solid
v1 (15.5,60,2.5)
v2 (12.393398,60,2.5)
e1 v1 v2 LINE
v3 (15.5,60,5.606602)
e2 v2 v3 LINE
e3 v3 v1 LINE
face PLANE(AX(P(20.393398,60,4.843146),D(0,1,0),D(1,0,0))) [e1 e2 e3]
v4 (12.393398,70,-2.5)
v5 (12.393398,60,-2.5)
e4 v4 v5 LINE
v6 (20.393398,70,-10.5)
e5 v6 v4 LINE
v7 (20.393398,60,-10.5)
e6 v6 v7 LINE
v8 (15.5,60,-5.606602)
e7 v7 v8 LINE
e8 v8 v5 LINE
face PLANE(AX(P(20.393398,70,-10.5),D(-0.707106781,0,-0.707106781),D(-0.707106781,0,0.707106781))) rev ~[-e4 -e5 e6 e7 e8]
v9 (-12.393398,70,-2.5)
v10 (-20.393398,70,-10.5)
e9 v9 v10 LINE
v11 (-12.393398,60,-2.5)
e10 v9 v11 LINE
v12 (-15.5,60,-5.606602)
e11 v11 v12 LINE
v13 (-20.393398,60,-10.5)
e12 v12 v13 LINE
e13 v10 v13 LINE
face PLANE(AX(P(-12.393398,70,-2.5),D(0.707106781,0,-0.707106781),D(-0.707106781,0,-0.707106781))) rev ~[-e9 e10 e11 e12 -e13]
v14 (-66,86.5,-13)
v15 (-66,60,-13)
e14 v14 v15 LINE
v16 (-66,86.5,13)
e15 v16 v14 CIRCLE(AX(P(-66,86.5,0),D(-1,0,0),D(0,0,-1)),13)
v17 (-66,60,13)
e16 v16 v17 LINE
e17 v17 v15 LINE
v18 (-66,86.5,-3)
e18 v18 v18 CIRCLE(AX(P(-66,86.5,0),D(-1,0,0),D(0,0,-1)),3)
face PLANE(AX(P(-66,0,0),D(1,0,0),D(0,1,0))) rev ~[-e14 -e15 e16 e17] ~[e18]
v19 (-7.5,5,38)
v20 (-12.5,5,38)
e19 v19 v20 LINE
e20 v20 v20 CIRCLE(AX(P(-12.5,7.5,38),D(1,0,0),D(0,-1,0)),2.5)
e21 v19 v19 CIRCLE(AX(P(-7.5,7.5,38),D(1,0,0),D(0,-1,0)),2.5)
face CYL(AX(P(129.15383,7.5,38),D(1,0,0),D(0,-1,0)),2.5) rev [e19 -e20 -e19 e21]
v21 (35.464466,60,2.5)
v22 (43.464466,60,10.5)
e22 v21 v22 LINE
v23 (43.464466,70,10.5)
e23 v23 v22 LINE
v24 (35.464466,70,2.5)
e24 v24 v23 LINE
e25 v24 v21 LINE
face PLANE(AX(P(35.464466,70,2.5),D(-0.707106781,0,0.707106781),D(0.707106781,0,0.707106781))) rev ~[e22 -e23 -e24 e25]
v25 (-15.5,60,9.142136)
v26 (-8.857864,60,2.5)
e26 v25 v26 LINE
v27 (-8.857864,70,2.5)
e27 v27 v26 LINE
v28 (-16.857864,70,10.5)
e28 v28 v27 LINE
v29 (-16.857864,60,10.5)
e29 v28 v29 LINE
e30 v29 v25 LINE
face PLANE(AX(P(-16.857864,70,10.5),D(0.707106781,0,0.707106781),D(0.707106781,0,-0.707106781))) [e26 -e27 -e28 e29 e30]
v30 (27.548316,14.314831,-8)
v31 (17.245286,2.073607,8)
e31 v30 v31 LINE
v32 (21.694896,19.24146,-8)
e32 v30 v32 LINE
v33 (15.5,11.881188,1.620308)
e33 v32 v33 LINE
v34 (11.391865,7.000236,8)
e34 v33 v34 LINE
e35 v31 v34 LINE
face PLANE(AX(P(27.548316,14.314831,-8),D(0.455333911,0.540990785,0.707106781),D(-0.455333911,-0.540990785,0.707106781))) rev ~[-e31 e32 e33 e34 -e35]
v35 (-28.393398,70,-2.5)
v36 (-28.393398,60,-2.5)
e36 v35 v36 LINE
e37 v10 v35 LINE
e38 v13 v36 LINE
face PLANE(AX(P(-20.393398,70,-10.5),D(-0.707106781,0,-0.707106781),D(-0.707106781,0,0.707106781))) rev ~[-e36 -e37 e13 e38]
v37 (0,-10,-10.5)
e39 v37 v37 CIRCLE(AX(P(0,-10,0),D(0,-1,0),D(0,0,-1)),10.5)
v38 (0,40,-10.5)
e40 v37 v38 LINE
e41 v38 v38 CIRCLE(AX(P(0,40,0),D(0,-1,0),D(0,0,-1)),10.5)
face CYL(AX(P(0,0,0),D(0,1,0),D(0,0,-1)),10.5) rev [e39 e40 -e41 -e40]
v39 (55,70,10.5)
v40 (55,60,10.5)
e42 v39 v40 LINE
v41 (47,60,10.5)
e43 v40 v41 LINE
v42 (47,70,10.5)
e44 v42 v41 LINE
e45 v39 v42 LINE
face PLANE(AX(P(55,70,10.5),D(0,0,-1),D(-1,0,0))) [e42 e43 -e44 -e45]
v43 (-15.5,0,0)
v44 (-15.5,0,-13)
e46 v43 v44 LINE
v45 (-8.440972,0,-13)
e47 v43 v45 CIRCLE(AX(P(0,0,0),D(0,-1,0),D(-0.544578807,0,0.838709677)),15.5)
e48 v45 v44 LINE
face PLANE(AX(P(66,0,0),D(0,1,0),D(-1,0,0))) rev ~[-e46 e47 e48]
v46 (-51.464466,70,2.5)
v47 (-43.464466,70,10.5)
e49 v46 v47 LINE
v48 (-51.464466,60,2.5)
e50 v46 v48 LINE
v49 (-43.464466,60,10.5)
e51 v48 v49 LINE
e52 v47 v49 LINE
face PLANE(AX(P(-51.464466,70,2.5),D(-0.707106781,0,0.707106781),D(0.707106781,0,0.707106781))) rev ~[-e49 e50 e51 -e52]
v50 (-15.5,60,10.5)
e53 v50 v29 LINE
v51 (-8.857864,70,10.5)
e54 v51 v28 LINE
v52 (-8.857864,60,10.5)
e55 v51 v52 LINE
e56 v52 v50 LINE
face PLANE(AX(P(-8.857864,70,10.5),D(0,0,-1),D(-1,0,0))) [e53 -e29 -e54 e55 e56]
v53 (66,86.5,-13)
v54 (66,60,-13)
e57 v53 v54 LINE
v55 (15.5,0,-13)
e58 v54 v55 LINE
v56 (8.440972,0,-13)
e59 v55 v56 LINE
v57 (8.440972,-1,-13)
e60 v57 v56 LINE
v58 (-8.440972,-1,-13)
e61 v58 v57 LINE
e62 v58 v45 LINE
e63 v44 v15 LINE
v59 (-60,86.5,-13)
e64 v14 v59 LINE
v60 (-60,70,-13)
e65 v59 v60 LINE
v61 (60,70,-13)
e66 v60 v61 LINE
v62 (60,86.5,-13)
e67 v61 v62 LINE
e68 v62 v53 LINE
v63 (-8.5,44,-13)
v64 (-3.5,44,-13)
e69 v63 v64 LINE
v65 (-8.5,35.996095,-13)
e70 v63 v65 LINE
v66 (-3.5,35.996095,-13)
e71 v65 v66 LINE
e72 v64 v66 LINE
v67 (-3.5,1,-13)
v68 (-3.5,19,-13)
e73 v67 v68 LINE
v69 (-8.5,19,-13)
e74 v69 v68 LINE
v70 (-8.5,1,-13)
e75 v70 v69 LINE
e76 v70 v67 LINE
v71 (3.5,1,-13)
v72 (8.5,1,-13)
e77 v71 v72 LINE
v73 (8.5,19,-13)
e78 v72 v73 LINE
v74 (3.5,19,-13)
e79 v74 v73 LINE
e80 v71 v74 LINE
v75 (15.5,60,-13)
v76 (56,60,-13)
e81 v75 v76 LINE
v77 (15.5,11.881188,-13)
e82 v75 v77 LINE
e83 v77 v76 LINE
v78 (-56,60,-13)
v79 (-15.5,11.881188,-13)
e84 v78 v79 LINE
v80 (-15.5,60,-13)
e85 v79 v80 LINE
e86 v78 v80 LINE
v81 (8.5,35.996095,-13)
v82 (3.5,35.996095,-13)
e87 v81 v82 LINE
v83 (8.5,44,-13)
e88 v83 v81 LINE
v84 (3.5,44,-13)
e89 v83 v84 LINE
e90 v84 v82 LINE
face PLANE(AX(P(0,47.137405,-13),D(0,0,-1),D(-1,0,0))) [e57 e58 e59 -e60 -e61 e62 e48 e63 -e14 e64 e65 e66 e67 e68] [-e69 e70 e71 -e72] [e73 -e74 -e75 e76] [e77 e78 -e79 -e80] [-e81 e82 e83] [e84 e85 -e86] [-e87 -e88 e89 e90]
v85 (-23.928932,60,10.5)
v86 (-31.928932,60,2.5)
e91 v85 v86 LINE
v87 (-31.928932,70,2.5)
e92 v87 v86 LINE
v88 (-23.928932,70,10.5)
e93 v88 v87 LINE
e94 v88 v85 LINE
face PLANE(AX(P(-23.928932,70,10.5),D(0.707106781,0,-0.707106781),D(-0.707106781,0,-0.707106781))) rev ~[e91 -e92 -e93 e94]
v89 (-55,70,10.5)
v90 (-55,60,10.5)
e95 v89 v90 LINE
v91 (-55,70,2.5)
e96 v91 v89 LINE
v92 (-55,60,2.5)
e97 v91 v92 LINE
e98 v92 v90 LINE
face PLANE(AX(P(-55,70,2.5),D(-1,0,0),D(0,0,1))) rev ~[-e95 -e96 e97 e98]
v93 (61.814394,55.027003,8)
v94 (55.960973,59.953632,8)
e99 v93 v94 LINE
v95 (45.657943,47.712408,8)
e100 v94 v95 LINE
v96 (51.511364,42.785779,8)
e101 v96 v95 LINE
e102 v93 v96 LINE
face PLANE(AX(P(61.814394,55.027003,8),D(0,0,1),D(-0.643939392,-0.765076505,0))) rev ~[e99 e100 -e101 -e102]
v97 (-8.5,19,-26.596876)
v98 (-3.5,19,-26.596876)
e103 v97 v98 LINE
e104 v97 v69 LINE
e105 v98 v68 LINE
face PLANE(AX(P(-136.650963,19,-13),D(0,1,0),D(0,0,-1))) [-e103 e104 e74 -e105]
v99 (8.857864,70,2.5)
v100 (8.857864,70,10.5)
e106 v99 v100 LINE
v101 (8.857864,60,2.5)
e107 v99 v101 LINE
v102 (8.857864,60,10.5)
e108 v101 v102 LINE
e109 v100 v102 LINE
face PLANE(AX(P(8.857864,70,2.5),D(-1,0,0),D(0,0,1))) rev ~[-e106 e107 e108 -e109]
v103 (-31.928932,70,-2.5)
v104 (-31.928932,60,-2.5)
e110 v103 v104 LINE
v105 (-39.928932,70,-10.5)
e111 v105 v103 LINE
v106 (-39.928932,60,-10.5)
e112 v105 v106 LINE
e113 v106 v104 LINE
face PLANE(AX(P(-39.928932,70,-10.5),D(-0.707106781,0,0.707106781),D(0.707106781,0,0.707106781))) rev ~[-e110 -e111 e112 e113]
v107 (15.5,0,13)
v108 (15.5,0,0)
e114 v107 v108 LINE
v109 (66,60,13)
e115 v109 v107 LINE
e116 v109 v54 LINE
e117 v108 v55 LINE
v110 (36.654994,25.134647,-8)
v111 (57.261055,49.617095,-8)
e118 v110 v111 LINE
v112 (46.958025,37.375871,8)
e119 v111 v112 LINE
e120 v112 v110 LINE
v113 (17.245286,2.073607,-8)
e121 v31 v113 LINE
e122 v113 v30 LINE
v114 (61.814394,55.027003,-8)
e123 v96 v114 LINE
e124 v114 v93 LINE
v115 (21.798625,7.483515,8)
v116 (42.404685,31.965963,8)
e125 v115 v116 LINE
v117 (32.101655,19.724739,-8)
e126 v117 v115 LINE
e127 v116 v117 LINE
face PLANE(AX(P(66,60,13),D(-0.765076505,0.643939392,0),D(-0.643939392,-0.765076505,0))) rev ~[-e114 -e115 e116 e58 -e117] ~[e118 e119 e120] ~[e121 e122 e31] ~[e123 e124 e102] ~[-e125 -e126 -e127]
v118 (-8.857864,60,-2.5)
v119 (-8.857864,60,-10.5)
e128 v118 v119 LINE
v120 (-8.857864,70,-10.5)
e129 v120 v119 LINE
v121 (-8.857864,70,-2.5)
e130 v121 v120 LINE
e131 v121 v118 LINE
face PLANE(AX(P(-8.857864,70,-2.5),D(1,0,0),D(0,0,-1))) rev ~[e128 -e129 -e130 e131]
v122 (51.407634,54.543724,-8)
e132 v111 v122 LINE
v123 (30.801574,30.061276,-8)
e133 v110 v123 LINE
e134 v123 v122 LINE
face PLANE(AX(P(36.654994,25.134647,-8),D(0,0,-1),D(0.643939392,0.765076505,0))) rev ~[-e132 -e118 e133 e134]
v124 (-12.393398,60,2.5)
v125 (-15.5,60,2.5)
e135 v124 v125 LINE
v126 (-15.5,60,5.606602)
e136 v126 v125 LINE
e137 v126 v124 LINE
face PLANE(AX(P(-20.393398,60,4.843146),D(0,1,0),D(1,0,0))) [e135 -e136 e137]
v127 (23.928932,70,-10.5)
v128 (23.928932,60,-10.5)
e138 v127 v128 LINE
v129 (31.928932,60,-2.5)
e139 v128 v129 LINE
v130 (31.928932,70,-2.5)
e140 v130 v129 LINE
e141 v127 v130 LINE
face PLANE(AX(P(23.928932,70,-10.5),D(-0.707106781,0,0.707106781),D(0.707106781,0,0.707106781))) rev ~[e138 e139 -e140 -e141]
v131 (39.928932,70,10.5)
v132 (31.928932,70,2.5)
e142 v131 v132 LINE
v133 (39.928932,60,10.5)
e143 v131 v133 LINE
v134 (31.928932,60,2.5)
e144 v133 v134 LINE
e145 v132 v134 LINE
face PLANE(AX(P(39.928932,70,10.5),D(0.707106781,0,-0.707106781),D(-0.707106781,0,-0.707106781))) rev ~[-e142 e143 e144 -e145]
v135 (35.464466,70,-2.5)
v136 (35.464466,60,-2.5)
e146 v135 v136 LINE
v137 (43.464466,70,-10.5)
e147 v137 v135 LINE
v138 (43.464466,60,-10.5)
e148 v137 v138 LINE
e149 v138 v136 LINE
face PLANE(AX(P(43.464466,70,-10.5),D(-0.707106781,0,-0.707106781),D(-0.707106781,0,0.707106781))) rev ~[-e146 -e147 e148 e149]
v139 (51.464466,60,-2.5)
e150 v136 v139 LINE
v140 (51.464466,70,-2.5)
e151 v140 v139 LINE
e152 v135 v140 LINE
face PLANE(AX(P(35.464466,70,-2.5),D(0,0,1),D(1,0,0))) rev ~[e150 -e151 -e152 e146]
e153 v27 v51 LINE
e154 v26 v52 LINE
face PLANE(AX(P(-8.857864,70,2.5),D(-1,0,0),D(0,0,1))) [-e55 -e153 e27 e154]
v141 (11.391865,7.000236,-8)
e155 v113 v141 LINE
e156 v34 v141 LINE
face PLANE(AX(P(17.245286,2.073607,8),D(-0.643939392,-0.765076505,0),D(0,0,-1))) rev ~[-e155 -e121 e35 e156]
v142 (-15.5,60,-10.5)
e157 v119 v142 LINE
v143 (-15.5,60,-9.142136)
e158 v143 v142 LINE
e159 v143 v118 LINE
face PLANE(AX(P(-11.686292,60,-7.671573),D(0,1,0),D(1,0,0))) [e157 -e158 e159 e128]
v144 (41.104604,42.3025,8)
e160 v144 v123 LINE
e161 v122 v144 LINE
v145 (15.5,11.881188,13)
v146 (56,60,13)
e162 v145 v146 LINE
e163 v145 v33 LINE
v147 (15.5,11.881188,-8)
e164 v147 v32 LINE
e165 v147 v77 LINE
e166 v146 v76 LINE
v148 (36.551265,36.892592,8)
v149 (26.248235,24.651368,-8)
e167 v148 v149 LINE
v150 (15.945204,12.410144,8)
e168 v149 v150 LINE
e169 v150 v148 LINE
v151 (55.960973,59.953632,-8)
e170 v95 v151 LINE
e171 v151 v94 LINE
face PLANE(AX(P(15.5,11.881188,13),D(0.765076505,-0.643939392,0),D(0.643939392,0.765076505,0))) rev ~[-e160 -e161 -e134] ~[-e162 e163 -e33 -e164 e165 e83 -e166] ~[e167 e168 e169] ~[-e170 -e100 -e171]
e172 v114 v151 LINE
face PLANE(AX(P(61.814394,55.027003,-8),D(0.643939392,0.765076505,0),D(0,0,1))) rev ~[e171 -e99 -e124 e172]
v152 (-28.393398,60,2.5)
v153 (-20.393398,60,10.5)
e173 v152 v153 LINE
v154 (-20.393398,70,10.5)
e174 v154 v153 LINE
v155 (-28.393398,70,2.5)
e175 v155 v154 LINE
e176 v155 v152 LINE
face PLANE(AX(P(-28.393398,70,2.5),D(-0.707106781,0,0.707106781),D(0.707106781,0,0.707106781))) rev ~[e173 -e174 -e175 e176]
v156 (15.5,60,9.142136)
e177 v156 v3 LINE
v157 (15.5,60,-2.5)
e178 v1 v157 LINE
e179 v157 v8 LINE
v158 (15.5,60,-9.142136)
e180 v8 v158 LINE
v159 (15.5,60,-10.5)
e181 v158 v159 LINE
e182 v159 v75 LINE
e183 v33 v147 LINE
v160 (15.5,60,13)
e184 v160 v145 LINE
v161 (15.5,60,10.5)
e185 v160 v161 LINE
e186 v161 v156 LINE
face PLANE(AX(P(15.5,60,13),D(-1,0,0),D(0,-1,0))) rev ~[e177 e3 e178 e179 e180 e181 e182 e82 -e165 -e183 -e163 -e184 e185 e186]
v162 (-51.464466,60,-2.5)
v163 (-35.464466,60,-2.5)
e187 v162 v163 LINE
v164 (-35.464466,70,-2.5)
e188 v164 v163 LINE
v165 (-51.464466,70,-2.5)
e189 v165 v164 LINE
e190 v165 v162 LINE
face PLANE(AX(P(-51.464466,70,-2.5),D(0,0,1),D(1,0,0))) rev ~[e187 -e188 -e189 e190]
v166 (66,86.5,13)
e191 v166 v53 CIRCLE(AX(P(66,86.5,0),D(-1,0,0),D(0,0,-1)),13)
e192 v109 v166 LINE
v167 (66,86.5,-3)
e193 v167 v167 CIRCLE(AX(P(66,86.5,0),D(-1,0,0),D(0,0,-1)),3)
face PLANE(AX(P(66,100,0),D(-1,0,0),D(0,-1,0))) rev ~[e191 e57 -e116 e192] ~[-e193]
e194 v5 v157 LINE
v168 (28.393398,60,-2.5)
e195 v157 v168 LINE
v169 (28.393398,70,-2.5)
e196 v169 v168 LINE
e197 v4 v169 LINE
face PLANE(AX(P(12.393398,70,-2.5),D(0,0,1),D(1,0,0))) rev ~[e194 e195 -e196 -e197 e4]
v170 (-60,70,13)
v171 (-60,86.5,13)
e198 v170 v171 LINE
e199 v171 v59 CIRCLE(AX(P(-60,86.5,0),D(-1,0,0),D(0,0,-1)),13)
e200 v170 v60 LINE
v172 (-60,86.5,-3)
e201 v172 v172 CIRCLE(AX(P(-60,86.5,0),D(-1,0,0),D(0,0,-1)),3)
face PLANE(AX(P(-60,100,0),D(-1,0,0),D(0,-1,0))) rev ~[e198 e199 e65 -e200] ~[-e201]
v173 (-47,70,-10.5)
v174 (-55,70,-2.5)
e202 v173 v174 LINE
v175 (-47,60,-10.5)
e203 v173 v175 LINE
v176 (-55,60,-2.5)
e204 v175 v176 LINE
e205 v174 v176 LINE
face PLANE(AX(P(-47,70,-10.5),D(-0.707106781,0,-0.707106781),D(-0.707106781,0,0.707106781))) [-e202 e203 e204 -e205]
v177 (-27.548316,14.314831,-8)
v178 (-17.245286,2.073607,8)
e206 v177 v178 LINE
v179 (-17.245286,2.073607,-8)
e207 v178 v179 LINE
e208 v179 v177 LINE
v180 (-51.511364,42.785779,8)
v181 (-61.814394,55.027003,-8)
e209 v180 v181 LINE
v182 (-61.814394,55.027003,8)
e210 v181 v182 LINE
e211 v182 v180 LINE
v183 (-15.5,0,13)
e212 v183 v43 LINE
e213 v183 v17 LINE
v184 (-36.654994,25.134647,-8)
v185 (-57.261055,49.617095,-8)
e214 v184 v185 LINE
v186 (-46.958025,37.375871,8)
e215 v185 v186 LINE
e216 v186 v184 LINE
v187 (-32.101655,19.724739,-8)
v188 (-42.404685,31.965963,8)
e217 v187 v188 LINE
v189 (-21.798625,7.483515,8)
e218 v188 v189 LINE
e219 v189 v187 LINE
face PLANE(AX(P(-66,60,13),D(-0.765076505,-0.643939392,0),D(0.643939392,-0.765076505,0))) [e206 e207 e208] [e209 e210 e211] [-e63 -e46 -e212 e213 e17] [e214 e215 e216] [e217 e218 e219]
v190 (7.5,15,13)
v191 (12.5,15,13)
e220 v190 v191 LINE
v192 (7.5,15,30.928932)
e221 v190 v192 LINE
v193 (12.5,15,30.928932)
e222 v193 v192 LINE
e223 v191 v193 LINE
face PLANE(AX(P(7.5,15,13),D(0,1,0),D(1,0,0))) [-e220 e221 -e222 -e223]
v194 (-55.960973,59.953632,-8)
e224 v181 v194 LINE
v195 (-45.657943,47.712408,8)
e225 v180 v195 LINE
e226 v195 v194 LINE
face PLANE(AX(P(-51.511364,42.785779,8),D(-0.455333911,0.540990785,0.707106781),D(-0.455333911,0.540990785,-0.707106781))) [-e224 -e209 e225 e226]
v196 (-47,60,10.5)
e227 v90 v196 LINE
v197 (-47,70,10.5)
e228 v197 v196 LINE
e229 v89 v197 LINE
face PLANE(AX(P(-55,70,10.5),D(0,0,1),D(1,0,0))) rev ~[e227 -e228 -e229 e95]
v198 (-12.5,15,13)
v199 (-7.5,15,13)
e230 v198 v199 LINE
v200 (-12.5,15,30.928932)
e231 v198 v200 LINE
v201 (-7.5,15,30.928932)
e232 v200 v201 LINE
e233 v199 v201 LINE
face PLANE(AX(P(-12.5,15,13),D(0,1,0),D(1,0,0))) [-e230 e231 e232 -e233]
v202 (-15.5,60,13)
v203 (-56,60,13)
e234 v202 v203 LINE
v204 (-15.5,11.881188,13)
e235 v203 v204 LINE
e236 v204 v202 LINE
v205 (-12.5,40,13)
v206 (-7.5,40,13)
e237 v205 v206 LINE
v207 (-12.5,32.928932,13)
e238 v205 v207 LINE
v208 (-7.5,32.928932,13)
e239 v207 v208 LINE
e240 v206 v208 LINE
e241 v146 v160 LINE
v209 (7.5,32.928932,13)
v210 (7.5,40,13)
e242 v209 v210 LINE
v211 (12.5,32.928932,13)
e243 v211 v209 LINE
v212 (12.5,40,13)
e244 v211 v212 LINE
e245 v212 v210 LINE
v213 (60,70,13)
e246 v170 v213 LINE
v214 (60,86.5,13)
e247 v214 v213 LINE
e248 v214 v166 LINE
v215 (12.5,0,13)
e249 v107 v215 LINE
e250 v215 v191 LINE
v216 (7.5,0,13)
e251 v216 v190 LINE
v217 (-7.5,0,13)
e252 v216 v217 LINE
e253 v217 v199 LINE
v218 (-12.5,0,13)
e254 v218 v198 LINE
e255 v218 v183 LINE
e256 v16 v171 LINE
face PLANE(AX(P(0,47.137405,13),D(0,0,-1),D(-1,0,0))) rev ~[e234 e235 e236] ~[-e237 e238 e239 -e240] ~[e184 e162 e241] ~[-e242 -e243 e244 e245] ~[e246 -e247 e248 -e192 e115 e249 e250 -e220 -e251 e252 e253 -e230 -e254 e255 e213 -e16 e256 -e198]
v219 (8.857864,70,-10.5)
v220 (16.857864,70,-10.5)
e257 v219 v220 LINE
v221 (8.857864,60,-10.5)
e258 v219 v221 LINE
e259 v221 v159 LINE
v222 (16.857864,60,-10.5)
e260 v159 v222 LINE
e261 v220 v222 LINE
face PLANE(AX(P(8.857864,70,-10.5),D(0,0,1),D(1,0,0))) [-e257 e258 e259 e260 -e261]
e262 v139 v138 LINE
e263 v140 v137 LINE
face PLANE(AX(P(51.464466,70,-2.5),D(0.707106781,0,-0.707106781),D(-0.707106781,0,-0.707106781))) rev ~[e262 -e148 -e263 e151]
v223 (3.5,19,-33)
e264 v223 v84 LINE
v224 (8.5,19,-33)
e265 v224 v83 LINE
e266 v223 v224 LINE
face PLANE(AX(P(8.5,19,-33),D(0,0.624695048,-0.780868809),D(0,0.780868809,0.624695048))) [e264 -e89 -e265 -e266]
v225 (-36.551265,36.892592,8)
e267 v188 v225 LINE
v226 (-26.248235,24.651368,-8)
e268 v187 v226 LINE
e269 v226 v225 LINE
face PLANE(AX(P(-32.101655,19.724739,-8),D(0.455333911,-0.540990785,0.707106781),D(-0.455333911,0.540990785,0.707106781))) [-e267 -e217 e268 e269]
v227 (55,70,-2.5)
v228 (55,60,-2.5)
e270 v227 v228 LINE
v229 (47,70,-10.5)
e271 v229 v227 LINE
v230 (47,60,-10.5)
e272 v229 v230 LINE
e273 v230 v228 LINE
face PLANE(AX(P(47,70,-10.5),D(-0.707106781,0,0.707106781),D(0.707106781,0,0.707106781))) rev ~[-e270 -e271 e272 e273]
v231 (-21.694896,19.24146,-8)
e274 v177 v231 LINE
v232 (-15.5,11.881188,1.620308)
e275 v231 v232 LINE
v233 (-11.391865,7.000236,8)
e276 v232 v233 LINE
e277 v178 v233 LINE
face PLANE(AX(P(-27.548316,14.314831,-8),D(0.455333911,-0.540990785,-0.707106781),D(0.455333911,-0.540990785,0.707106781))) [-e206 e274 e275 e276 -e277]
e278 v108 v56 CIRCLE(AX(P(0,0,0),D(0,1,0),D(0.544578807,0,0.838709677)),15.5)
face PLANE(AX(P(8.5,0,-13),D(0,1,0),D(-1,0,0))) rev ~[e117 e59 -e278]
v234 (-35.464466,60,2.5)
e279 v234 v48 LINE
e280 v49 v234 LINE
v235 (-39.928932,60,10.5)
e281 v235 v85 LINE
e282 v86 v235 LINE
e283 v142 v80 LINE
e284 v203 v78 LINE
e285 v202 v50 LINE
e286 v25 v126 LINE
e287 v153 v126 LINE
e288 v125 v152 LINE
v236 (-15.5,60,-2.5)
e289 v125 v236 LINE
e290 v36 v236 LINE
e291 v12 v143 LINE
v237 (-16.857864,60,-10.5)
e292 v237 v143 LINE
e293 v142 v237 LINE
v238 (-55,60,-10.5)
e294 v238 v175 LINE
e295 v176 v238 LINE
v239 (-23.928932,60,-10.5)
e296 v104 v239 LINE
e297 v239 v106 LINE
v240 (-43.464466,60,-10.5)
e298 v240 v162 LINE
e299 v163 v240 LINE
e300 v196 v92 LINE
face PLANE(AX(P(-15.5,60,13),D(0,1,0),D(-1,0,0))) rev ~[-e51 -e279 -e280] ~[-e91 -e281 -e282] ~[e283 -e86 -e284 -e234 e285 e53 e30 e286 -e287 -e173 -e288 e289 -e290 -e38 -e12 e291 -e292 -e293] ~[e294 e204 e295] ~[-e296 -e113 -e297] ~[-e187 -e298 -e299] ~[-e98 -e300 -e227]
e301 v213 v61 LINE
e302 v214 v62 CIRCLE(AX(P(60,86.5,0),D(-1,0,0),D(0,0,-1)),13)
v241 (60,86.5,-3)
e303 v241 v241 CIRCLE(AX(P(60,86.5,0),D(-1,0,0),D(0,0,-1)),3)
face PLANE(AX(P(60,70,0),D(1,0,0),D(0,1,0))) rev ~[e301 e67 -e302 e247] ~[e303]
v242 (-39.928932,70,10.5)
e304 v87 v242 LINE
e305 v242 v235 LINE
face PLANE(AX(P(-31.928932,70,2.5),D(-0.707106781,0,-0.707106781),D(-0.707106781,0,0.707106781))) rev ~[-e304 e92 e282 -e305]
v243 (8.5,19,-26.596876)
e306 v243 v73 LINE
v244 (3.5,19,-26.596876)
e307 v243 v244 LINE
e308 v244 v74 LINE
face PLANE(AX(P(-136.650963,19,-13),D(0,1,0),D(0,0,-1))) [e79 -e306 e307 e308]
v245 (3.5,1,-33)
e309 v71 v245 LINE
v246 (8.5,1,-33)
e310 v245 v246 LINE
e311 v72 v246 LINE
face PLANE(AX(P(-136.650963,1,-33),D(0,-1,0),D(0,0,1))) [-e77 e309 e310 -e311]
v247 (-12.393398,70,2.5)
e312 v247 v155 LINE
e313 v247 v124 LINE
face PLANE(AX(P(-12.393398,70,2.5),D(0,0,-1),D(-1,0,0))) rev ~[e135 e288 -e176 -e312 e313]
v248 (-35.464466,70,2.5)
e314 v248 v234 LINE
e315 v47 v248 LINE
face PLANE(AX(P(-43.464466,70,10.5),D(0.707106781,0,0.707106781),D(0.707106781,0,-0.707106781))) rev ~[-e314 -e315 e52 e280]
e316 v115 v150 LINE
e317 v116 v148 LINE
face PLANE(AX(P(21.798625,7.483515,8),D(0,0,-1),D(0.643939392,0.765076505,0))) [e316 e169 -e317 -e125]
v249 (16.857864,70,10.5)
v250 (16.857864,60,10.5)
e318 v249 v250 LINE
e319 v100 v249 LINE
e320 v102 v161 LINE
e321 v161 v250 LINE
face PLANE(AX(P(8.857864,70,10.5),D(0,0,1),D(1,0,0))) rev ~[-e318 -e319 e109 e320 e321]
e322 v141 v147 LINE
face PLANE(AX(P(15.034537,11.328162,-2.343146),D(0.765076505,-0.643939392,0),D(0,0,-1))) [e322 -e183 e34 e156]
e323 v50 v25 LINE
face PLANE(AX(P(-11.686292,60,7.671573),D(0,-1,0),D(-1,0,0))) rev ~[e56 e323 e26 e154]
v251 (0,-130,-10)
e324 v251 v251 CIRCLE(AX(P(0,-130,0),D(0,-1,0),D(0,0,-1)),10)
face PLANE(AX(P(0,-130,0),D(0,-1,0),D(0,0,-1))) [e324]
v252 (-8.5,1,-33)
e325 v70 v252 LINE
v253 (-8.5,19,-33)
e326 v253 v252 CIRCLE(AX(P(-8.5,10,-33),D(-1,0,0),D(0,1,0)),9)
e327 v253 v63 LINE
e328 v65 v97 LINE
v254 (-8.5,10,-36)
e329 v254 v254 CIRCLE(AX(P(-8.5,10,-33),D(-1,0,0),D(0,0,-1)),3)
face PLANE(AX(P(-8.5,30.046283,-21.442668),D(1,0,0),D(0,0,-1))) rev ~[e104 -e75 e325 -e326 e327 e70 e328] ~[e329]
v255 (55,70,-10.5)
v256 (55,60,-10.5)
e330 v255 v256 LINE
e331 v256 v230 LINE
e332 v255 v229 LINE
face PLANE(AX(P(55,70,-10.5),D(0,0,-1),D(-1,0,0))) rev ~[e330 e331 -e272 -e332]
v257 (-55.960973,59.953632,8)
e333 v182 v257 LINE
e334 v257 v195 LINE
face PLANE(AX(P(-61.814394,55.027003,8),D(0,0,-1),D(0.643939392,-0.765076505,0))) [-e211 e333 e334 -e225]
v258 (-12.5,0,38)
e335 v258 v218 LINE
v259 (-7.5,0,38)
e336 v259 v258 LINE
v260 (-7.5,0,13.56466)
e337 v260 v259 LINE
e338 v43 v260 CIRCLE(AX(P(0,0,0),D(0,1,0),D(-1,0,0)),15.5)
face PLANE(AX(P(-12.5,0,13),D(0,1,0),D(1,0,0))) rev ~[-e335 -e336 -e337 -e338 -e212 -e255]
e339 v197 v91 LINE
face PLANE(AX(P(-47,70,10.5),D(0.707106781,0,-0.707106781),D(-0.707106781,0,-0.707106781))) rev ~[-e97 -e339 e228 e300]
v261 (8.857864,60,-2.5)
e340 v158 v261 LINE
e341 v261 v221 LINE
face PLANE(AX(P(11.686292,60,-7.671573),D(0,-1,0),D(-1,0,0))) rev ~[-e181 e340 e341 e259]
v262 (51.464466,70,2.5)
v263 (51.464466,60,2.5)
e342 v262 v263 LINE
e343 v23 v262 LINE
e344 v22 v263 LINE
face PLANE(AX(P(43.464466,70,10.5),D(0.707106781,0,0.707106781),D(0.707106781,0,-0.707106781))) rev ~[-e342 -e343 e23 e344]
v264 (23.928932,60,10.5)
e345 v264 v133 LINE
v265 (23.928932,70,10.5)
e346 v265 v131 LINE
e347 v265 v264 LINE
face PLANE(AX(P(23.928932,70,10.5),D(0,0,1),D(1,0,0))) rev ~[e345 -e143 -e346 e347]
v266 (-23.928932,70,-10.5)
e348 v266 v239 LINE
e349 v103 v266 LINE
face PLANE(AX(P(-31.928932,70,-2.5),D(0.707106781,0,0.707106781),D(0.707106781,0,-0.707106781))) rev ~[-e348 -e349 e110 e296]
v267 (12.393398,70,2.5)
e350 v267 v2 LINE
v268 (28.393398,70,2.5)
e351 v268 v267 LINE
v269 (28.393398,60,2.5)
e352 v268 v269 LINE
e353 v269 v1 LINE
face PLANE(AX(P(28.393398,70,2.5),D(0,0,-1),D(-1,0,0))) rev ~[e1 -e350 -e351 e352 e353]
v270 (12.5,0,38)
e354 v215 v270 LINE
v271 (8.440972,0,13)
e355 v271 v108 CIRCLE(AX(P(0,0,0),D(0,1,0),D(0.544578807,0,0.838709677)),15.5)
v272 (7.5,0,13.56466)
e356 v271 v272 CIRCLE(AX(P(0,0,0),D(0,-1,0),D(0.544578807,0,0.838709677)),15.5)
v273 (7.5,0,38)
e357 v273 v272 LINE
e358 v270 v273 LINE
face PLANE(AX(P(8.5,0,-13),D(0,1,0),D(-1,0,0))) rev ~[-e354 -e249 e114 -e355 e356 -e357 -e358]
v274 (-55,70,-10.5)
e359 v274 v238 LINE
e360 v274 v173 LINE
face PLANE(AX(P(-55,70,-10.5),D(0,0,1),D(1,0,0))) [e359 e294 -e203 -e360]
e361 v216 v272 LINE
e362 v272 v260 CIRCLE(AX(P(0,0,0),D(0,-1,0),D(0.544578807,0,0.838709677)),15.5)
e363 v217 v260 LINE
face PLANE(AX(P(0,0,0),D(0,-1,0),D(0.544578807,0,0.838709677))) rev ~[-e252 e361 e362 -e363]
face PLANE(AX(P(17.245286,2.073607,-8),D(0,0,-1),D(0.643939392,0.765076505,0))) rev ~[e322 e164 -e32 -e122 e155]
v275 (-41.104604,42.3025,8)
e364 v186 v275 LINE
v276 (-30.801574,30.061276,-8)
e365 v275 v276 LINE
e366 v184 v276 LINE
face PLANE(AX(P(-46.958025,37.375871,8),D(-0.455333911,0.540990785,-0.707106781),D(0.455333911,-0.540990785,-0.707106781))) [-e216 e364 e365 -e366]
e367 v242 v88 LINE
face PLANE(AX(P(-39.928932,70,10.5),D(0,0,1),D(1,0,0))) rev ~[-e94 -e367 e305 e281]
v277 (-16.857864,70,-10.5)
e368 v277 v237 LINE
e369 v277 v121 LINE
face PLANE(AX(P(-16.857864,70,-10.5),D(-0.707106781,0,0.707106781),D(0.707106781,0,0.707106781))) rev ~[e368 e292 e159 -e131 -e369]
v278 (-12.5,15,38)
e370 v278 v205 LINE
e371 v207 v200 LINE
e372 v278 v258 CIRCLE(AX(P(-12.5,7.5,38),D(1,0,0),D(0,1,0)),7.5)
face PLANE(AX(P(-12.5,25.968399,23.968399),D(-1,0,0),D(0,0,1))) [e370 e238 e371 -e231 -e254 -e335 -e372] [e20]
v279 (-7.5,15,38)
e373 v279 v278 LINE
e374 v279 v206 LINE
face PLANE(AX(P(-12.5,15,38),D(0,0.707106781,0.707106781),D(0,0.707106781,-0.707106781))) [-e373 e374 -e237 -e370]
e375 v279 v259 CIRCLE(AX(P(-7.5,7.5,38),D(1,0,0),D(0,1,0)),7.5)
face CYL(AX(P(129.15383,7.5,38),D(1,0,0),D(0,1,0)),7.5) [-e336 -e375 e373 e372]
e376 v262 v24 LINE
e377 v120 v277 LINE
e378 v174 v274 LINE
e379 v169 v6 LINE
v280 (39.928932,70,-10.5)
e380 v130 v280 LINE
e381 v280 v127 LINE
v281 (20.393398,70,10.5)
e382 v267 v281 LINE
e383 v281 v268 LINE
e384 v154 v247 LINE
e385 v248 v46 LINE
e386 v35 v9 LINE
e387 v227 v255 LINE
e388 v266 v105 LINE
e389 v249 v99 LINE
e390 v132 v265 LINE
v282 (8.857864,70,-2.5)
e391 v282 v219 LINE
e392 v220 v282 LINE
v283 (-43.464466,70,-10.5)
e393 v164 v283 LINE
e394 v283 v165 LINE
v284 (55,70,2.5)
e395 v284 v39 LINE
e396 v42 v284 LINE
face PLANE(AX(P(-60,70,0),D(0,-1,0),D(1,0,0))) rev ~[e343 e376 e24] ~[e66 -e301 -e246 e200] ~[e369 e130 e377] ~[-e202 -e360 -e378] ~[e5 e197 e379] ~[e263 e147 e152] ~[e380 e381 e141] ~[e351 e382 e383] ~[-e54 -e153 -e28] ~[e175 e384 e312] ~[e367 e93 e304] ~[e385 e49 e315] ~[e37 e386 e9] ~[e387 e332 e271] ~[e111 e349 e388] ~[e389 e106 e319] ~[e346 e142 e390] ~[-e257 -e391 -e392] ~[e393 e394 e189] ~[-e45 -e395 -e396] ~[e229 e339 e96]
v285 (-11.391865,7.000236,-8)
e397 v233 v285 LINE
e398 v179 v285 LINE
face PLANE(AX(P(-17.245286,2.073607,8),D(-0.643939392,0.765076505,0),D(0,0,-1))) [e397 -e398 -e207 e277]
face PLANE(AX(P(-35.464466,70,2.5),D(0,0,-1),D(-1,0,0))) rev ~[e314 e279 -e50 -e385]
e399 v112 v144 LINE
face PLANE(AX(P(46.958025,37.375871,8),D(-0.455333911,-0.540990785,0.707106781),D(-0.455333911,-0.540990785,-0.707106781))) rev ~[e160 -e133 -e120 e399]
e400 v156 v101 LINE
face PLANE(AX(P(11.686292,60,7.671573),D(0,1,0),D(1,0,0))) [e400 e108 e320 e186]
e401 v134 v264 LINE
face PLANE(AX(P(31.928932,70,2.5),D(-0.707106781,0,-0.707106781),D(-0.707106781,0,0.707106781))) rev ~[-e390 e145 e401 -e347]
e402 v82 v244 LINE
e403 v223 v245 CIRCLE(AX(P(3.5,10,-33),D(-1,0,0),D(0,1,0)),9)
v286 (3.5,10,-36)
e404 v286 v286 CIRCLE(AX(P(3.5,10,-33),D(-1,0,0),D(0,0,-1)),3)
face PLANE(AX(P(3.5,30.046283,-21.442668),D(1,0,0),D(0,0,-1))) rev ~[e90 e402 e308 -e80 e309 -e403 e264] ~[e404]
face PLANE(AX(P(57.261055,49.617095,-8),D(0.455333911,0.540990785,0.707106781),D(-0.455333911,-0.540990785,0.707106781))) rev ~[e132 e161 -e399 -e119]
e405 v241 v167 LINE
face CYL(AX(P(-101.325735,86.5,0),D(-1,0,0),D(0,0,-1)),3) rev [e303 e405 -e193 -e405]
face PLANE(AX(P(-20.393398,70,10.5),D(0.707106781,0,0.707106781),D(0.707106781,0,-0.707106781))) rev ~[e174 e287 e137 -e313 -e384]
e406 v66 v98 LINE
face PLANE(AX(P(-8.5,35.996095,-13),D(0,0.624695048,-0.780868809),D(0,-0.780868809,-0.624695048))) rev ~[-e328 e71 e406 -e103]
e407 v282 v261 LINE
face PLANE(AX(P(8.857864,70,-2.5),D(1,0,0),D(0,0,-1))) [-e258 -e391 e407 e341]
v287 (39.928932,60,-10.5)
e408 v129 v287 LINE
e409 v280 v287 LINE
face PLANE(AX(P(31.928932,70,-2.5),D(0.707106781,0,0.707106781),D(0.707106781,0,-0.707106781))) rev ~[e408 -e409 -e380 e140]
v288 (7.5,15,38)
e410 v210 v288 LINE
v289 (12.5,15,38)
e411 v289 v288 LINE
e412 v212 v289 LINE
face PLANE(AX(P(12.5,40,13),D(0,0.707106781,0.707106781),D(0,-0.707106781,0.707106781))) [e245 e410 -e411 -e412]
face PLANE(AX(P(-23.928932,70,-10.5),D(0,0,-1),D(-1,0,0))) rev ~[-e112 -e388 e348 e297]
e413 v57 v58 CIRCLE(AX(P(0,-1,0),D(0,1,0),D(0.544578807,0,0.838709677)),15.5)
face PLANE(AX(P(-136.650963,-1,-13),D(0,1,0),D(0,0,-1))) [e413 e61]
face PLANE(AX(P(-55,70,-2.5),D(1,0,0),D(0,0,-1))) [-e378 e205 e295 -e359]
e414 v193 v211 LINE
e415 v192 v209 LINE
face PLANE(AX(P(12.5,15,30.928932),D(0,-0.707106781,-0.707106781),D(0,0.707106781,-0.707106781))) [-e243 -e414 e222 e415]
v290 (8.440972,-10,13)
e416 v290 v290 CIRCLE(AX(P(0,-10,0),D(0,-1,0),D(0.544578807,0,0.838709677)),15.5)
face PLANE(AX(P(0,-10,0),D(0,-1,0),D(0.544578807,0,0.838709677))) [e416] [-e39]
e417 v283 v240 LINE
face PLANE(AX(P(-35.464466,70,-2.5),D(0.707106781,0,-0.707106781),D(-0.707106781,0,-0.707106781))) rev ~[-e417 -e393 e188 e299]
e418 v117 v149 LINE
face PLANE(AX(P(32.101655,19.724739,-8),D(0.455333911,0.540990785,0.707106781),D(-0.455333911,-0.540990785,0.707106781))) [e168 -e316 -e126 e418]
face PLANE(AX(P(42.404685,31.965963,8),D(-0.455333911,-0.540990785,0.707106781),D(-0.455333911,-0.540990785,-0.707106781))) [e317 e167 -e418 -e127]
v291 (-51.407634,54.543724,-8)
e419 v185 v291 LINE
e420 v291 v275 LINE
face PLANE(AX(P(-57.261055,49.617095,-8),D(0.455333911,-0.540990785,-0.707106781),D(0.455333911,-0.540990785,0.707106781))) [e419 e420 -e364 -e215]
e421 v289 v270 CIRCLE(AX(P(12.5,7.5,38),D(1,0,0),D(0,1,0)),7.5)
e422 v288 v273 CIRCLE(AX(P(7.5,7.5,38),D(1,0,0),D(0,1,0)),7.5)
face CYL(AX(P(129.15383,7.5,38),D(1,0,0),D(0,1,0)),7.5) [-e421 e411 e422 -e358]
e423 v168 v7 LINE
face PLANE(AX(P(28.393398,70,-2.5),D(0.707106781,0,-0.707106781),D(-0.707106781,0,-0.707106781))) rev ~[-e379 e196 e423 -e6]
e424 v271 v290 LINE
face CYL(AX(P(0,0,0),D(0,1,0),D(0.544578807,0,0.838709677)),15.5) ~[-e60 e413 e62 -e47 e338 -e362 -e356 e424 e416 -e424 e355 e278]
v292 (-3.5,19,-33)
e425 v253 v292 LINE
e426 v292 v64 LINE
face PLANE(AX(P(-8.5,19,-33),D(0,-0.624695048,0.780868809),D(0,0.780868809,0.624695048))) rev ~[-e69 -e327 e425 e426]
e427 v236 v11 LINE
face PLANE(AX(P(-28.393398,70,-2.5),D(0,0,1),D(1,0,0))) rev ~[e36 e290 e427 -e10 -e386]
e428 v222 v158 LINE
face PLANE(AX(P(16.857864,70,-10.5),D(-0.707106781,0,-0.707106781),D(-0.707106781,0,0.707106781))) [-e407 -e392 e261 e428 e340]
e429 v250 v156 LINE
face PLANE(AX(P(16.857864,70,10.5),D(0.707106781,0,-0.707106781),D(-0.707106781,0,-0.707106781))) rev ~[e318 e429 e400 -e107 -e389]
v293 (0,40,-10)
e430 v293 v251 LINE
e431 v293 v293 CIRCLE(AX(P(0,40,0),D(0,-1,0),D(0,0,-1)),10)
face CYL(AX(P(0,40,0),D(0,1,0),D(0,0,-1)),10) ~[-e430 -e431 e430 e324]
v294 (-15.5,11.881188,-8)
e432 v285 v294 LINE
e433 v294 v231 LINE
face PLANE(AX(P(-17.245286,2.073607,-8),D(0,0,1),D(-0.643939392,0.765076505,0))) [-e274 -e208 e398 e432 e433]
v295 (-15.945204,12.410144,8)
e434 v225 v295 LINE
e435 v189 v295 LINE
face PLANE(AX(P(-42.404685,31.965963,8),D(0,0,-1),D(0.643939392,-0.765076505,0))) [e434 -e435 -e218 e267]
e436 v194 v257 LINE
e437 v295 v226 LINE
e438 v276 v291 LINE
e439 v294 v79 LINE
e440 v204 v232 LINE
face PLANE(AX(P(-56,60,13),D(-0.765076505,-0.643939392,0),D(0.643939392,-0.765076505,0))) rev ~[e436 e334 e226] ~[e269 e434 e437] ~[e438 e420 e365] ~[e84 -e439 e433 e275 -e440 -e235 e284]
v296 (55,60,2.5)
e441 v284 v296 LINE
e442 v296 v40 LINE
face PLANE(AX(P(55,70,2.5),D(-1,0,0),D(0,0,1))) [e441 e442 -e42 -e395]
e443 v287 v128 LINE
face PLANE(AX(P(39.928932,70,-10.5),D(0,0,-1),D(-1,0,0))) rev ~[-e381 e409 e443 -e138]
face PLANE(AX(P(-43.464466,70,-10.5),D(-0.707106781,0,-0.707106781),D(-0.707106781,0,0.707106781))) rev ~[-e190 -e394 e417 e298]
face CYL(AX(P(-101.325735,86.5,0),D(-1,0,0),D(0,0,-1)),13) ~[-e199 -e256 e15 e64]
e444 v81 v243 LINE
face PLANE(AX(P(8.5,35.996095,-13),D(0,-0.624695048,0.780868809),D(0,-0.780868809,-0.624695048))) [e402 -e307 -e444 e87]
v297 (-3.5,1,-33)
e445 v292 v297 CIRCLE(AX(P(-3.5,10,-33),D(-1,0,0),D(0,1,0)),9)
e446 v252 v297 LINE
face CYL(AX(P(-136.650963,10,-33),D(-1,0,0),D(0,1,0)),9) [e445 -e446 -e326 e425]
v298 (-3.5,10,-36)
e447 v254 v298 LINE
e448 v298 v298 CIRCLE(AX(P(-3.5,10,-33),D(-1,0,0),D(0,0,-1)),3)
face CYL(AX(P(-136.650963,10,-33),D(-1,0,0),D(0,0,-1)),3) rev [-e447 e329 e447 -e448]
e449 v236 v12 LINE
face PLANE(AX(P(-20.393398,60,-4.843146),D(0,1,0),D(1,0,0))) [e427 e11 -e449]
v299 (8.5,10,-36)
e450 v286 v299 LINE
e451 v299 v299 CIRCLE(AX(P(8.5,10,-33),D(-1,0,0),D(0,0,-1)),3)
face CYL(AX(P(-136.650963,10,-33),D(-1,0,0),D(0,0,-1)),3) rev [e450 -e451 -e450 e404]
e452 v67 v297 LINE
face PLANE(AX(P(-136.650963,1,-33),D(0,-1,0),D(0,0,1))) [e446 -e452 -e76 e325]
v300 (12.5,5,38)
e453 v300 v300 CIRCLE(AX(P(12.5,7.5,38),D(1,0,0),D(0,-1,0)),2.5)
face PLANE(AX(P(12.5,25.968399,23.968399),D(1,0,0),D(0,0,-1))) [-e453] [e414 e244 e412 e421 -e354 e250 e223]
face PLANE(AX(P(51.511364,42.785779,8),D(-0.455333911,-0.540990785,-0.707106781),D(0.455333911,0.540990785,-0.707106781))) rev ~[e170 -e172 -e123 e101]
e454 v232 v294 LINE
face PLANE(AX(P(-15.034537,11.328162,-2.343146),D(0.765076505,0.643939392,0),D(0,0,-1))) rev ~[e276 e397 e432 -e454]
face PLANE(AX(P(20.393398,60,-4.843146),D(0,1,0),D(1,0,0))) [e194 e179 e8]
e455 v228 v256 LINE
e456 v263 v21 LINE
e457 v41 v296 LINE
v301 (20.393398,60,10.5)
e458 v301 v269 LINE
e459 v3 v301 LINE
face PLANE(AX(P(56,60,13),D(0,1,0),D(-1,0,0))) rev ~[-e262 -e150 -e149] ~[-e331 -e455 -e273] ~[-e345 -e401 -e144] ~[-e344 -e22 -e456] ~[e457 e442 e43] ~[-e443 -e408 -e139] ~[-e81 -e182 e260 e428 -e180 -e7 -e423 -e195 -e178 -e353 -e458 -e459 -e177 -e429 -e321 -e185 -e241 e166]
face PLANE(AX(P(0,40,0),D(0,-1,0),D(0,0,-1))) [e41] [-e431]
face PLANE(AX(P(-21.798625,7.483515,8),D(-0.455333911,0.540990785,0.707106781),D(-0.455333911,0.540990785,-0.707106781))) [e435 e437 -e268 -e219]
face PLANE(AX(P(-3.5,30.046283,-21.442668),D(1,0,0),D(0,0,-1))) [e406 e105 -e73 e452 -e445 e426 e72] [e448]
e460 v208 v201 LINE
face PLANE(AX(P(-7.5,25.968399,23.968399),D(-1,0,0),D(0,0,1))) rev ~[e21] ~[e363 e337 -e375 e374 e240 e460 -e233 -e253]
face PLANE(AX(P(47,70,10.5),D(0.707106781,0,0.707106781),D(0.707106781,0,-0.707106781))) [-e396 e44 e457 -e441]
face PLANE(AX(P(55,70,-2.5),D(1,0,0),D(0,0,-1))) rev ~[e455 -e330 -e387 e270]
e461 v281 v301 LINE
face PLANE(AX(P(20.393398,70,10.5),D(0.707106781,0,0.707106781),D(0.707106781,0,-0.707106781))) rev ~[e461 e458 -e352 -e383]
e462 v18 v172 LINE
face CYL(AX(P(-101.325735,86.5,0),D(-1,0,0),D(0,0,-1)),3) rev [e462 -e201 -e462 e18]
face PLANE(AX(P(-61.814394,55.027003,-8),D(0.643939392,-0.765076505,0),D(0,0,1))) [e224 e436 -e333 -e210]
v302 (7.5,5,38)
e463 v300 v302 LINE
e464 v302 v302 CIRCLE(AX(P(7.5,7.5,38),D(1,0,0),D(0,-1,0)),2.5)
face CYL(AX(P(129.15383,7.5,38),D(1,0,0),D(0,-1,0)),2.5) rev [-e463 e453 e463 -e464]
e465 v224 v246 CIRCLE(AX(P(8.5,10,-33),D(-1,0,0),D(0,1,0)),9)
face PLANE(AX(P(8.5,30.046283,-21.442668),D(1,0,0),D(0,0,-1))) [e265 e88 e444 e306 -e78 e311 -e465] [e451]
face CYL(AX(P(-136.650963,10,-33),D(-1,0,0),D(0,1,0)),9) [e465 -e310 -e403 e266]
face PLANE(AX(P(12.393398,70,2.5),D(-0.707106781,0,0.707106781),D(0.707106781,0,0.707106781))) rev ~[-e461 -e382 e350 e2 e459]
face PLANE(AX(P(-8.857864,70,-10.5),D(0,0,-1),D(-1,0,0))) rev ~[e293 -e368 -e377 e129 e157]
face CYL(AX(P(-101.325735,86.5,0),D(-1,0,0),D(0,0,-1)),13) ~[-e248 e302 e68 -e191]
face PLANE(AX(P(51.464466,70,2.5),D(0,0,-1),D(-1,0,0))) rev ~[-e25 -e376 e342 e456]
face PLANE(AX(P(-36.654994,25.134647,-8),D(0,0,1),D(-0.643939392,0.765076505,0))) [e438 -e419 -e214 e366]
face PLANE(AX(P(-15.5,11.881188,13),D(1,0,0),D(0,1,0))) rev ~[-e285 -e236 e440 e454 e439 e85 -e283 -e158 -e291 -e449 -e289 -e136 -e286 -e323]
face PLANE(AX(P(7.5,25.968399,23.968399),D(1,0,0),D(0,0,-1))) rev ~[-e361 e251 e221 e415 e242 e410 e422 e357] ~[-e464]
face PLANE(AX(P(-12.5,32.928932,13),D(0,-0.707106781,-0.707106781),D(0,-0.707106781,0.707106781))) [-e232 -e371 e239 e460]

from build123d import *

# Parameters (mm, degrees)
TYKKELSE_LEDDFESTER_OG_BREDDE_H_YDE_SELV_DEPTH = 13
SKETCH28_R                                     = 15.5
SKETCH28_R_2                                   = 10.5
HULL_TIL_L_RBEN_KARBONFIBERR_R_DEPTH           = 10
SKRUEHULL_LEDDFESTER_DEPTH                     = 167.325734629
SKRUEHULL_LEDDFESTER_DEPTH_BACK                = 167.325734629
SKETCH29_R                                     = 3
SKETCH33_W                                     = 5
SKETCH33_H                                     = 20
BREDDE_OG_AVSTAND_STEMPELENDE_DEPTH            = 60
CUT_EXTRUDE4_DEPTH                             = 148.147035308
SIDEM_NSTER_DEPTH                              = 7.650765
SIDEM_NSTER_2_DEPTH                            = 7.650765
UTVIDET_START                                  = -40
SKETCH44_R                                     = 10.5
UTVIDET_L_RBENHULL_INN_I_SELVE_KROPPEN_DEPTH   = 40
M_NSTER_TOPP_DEPTH                             = 10
STEMPELENDE_AV_ST_RSTE_SYLINDER_DEPTH          = 145.150962536
STEMPELENDE_AV_ST_RSTE_SYLINDER_DEPTH_BACK     = 145.150962536
ROD_ENDE_JUSTERE_LENGDEN_ALTS_FESTE_T_R        = 3
SKETCH39_W                                     = 5
SKETCH39_H                                     = 15
SYLINDERFESTE_SELVE_DEN_LILLE_SYLINDERE_DEPTH  = 48
ST_TTER_ST_RSTE_SYLINDER_1_DEPTH               = 5
ST_TTER_ST_RSTE_SYLINDER_2_DEPTH               = 5
SYLINDERFESTE_LITEN_SYLINDER_DEPTH             = 141.653830378
SYLINDERFESTE_LITEN_SYLINDER_DEPTH_BACK        = 141.653830378
SKETCH48_R                                     = 2.5
BOSS_EXTRUDE11_DEPTH                           = 5
BOSS_EXTRUDE12_DEPTH                           = 5
SKETCH51_R                                     = 10
TIL_ASSEMBLY_SLETT_F_R_PRINTING_DEPTH          = 170


with BuildPart() as part:
    # Sketch27 → Tykkelse leddfester og bredde/høyde selve modellen (new, symmetric)
    with BuildSketch(Plane.XY):
        Polygon((66, 0), (-66, 0), (-66, 100), (-60, 100), (-60, 70), (60, 70), (60, 100), (66, 100), align=None)
    extrude(amount=TYKKELSE_LEDDFESTER_OG_BREDDE_H_YDE_SELV_DEPTH, both=True)

    # Sketch28 → Hull til lårben/karbonfiberrør (add)
    with BuildSketch(Plane.XZ):
        with Locations(Location((0, 0, 0), (0, 0, 57.004114526))):
            Circle(SKETCH28_R)
        with Locations(Location((0, 0, 0), (0, 0, 270))):
            Circle(SKETCH28_R_2, mode=Mode.SUBTRACT)
    extrude(amount=HULL_TIL_L_RBEN_KARBONFIBERR_R_DEPTH)

    # Sketch29 → Skruehull leddfester (cut, two sides: drawn at the far end of the back side and taken through both)
    with BuildSketch(Plane(origin=(66, 0, 0), x_dir=(0, 0, -1), z_dir=(1, 0, 0)).offset(-SKRUEHULL_LEDDFESTER_DEPTH_BACK)):
        with Locations((0, 86.5)):
            Circle(SKETCH29_R)
        with BuildLine():
            Line((-13, 86.5), (-13, 71.5))
            Line((-13, 71.5), (-14, 71.5))
            Line((-14, 71.5), (-14, 101))
            Line((-14, 101), (0, 101))
            Line((0, 101), (14, 101))
            Line((14, 101), (14, 71.5))
            Line((14, 71.5), (13, 71.5))
            Line((13, 71.5), (13, 86.5))
            ThreePointArc((13, 86.5), (0, 99.5), (-13, 86.5))
        make_face()
    extrude(amount=SKRUEHULL_LEDDFESTER_DEPTH + SKRUEHULL_LEDDFESTER_DEPTH_BACK, mode=Mode.SUBTRACT)

    # Sketch33 → Bredde og avstand stempelende (add)
    with BuildSketch(Plane(origin=(0, 0, -13), x_dir=(-1, 0, 0), z_dir=(0, 0, -1))):
        with Locations((-6, 10)):
            Rectangle(SKETCH33_W, SKETCH33_H)
        with Locations((6, 10)):
            Rectangle(SKETCH33_W, SKETCH33_H)
    extrude(amount=BREDDE_OG_AVSTAND_STEMPELENDE_DEPTH)

    # Fasong (mønster på selve kroppen) → Cut-Extrude4 (cut, through all)
    with BuildSketch(Plane.XY.offset(13)):
        Polygon((-66, 60), (-15.5, 0), (-66, 0), align=None)
        Polygon((15.5, 0), (66, 0), (66, 60), align=None)
        Polygon((-56, 60), (-15.5, 11.881188119), (-15.5, 60), align=None)
        Polygon((56, 60), (15.5, 60), (15.5, 11.881188119), align=None)
    extrude(amount=-CUT_EXTRUDE4_DEPTH, mode=Mode.SUBTRACT)

    # Sketch40 → Sidemønster (cut)
    with BuildSketch(Plane(origin=(-9.072801919, -7.636274948, 0), x_dir=(0, 0, 1), z_dir=(-0.765076505498557, -0.6439393921279521, 0))):
        Polygon((-8, 81.90459021), (8, 81.90459021), (8, 65.90459021), align=None)
        Polygon((-8, 74.833522398), (8, 58.833522398), (-8, 42.833522398), align=None)
        Polygon((8, 19.762454587), (-8, 35.762454587), (8, 51.762454587), align=None)
        Polygon((-8, 28.691386775), (8, 12.691386775), (-8, 12.691386775), align=None)
    extrude(amount=-SIDEM_NSTER_DEPTH, mode=Mode.SUBTRACT)

    # Sketch42 → Sidemønster 2 (cut)
    with BuildSketch(Plane(origin=(9.072801919, -7.636274948, 0), x_dir=(0, 0, -1), z_dir=(0.765076505498557, -0.6439393921279521, 0))):
        Polygon((8, 81.90459021), (-8, 81.90459021), (-8, 65.90459021), align=None)
        Polygon((8, 74.833522398), (-8, 58.833522398), (8, 42.833522398), align=None)
        Polygon((-8, 51.762454587), (8, 35.762454587), (-8, 19.762454587), align=None)
        Polygon((8, 28.691386775), (-8, 12.691386775), (8, 12.691386775), align=None)
    extrude(amount=-SIDEM_NSTER_2_DEPTH, mode=Mode.SUBTRACT)

    # Sketch44 → Utvidet lårbenhull inn i selve kroppen (cut)
    with BuildSketch(Plane.XZ.offset(UTVIDET_START)):
        with Locations(Location((0, 0, 0), (0, 0, 270))):
            Circle(SKETCH44_R)
    extrude(amount=UTVIDET_L_RBENHULL_INN_I_SELVE_KROPPEN_DEPTH, mode=Mode.SUBTRACT)

    # Sketch45 → Mønster topp (cut)
    with BuildSketch(Plane(origin=(0, 70, 0), x_dir=(1, 0, 0), z_dir=(0, 1, 0))):
        Polygon((-39.928932188, 10.5), (-31.928932188, 2.5), (-23.928932188, 10.5), align=None)
        Polygon((-16.857864376, 10.5), (-8.857864376, 2.5), (-8.857864376, 10.5), align=None)
        Polygon((-55, 2.5), (-55, 10.5), (-47, 10.5), align=None)
        Polygon((-43.464466094, 10.5), (-51.464466094, 2.5), (-35.464466094, 2.5), align=None)
        Polygon((-20.393398282, 10.5), (-28.393398282, 2.5), (-12.393398282, 2.5), align=None)
        Polygon((-8.857864376, -2.5), (-8.857864376, -10.5), (-16.857864376, -10.5), align=None)
        Polygon((-20.393398282, -10.5), (-12.393398282, -2.5), (-28.393398282, -2.5), align=None)
        Polygon((-23.928932188, -10.5), (-31.928932188, -2.5), (-39.928932188, -10.5), align=None)
        Polygon((-43.464466094, -10.5), (-35.464466094, -2.5), (-51.464466094, -2.5), align=None)
        Polygon((-55, -10.5), (-47, -10.5), (-55, -2.5), align=None)
        Polygon((8.857864376, 2.5), (8.857864376, 10.5), (16.857864376, 10.5), align=None)
        Polygon((16.857864376, -10.5), (8.857864376, -2.5), (8.857864376, -10.5), align=None)
        Polygon((20.393398282, -10.5), (28.393398282, -2.5), (12.393398282, -2.5), align=None)
        Polygon((20.393398282, 10.5), (12.393398282, 2.5), (28.393398282, 2.5), align=None)
        Polygon((23.928932188, 10.5), (31.928932188, 2.5), (39.928932188, 10.5), align=None)
        Polygon((23.928932188, -10.5), (39.928932188, -10.5), (31.928932188, -2.5), align=None)
        Polygon((43.464466094, -10.5), (51.464466094, -2.5), (35.464466094, -2.5), align=None)
        Polygon((55, -2.5), (55, -10.5), (47, -10.5), align=None)
        Polygon((43.464466094, 10.5), (35.464466094, 2.5), (51.464466094, 2.5), align=None)
        Polygon((55, 10.5), (47, 10.5), (55, 2.5), align=None)
    extrude(amount=-M_NSTER_TOPP_DEPTH, mode=Mode.SUBTRACT)

    # Rod-ende, justere lengden (altså feste til største sylinder) → Stempelende av st_rste sylinder (cut, two sides: drawn at the far end of the back side and taken through both)
    with BuildSketch(Plane(origin=(8.5, 0, 0), x_dir=(0, 0, -1), z_dir=(1, 0, 0)).offset(-STEMPELENDE_AV_ST_RSTE_SYLINDER_DEPTH_BACK)):
        with Locations((33, 10)):
            Circle(ROD_ENDE_JUSTERE_LENGDEN_ALTS_FESTE_T_R)
        with BuildLine():
            Line((43, -1), (74, -1))
            Line((74, -1), (74, 21))
            Line((74, 21), (43, 21))
            Line((43, 21), (13, 21))
            Line((13, 21), (13, 19))
            Line((13, 19), (33, 19))
            ThreePointArc((33, 19), (42, 10), (33, 1))
            Line((33, 1), (13, 1))
            Line((13, 1), (13, -1))
            Line((13, -1), (43, -1))
        make_face()
    extrude(amount=STEMPELENDE_AV_ST_RSTE_SYLINDER_DEPTH + STEMPELENDE_AV_ST_RSTE_SYLINDER_DEPTH_BACK, mode=Mode.SUBTRACT)

    # Sketch39 → Sylinderfeste_ selve den lille sylindere (add)
    with BuildSketch(Plane.XY.offset(13)):
        with Locations((-10, 7.5)):
            Rectangle(SKETCH39_W, SKETCH39_H)
        with Locations((10, 7.5)):
            Rectangle(SKETCH39_W, SKETCH39_H)
    extrude(amount=SYLINDERFESTE_SELVE_DEN_LILLE_SYLINDERE_DEPTH)

    # Sketch46 → Støtter største sylinder 1 (add)
    with BuildSketch(Plane(origin=(8.5, 0, 0), x_dir=(0, 0, -1), z_dir=(1, 0, 0))):
        Polygon((13, 44), (13, 35.996094703), (26.596875763, 19), (33, 19), align=None)
    extrude(amount=-ST_TTER_ST_RSTE_SYLINDER_1_DEPTH)

    # Sketch47 → Støtter største sylinder 2 (add)
    with BuildSketch(Plane.ZY.offset(8.5)):
        Polygon((-33, 19), (-13, 44), (-13, 35.996094703), (-26.596875763, 19), align=None)
    extrude(amount=-ST_TTER_ST_RSTE_SYLINDER_2_DEPTH)

    # Sketch48 → Sylinderfeste, liten sylinder (cut, two sides: drawn at the far end of the back side and taken through both)
    with BuildSketch(Plane.ZY.offset(12.5).offset(-SYLINDERFESTE_LITEN_SYLINDER_DEPTH_BACK)):
        with Locations(Location((38, 7.5, 0), (0, 0, 270))):
            Circle(SKETCH48_R)
        with BuildLine():
            Line((38, 0), (23.179811187, 0))
            Line((23.179811187, 0), (23.179811187, -1))
            Line((23.179811187, -1), (62, -1))
            Line((62, -1), (62, 16))
            Line((62, 16), (13, 16))
            Line((13, 16), (13, 15))
            Line((13, 15), (38, 15))
            ThreePointArc((38, 15), (45.5, 7.5), (38, 0))
        make_face()
    extrude(amount=SYLINDERFESTE_LITEN_SYLINDER_DEPTH + SYLINDERFESTE_LITEN_SYLINDER_DEPTH_BACK, mode=Mode.SUBTRACT)

    # Sketch49 → Boss-Extrude11 (add)
    with BuildSketch(Plane.ZY.offset(12.5)):
        Polygon((38, 15), (13, 40), (13, 32.928932188), (30.928932188, 15), align=None)
    extrude(amount=-BOSS_EXTRUDE11_DEPTH)

    # Sketch50 → Boss-Extrude12 (add)
    with BuildSketch(Plane(origin=(12.5, 0, 0), x_dir=(0, 0, -1), z_dir=(1, 0, 0))):
        Polygon((-38, 15), (-30.928932188, 15), (-13, 32.928932188), (-13, 40), align=None)
    extrude(amount=-BOSS_EXTRUDE12_DEPTH)

    # Sketch51 → TIL ASSEMBLY - SLETT FØR PRINTING (add)
    with BuildSketch(Plane.XZ.offset(-40)):
        with Locations(Location((0, 0, 0), (0, 0, 270))):
            Circle(SKETCH51_R)
    extrude(amount=TIL_ASSEMBLY_SLETT_F_R_PRINTING_DEPTH)


solid = part.part
